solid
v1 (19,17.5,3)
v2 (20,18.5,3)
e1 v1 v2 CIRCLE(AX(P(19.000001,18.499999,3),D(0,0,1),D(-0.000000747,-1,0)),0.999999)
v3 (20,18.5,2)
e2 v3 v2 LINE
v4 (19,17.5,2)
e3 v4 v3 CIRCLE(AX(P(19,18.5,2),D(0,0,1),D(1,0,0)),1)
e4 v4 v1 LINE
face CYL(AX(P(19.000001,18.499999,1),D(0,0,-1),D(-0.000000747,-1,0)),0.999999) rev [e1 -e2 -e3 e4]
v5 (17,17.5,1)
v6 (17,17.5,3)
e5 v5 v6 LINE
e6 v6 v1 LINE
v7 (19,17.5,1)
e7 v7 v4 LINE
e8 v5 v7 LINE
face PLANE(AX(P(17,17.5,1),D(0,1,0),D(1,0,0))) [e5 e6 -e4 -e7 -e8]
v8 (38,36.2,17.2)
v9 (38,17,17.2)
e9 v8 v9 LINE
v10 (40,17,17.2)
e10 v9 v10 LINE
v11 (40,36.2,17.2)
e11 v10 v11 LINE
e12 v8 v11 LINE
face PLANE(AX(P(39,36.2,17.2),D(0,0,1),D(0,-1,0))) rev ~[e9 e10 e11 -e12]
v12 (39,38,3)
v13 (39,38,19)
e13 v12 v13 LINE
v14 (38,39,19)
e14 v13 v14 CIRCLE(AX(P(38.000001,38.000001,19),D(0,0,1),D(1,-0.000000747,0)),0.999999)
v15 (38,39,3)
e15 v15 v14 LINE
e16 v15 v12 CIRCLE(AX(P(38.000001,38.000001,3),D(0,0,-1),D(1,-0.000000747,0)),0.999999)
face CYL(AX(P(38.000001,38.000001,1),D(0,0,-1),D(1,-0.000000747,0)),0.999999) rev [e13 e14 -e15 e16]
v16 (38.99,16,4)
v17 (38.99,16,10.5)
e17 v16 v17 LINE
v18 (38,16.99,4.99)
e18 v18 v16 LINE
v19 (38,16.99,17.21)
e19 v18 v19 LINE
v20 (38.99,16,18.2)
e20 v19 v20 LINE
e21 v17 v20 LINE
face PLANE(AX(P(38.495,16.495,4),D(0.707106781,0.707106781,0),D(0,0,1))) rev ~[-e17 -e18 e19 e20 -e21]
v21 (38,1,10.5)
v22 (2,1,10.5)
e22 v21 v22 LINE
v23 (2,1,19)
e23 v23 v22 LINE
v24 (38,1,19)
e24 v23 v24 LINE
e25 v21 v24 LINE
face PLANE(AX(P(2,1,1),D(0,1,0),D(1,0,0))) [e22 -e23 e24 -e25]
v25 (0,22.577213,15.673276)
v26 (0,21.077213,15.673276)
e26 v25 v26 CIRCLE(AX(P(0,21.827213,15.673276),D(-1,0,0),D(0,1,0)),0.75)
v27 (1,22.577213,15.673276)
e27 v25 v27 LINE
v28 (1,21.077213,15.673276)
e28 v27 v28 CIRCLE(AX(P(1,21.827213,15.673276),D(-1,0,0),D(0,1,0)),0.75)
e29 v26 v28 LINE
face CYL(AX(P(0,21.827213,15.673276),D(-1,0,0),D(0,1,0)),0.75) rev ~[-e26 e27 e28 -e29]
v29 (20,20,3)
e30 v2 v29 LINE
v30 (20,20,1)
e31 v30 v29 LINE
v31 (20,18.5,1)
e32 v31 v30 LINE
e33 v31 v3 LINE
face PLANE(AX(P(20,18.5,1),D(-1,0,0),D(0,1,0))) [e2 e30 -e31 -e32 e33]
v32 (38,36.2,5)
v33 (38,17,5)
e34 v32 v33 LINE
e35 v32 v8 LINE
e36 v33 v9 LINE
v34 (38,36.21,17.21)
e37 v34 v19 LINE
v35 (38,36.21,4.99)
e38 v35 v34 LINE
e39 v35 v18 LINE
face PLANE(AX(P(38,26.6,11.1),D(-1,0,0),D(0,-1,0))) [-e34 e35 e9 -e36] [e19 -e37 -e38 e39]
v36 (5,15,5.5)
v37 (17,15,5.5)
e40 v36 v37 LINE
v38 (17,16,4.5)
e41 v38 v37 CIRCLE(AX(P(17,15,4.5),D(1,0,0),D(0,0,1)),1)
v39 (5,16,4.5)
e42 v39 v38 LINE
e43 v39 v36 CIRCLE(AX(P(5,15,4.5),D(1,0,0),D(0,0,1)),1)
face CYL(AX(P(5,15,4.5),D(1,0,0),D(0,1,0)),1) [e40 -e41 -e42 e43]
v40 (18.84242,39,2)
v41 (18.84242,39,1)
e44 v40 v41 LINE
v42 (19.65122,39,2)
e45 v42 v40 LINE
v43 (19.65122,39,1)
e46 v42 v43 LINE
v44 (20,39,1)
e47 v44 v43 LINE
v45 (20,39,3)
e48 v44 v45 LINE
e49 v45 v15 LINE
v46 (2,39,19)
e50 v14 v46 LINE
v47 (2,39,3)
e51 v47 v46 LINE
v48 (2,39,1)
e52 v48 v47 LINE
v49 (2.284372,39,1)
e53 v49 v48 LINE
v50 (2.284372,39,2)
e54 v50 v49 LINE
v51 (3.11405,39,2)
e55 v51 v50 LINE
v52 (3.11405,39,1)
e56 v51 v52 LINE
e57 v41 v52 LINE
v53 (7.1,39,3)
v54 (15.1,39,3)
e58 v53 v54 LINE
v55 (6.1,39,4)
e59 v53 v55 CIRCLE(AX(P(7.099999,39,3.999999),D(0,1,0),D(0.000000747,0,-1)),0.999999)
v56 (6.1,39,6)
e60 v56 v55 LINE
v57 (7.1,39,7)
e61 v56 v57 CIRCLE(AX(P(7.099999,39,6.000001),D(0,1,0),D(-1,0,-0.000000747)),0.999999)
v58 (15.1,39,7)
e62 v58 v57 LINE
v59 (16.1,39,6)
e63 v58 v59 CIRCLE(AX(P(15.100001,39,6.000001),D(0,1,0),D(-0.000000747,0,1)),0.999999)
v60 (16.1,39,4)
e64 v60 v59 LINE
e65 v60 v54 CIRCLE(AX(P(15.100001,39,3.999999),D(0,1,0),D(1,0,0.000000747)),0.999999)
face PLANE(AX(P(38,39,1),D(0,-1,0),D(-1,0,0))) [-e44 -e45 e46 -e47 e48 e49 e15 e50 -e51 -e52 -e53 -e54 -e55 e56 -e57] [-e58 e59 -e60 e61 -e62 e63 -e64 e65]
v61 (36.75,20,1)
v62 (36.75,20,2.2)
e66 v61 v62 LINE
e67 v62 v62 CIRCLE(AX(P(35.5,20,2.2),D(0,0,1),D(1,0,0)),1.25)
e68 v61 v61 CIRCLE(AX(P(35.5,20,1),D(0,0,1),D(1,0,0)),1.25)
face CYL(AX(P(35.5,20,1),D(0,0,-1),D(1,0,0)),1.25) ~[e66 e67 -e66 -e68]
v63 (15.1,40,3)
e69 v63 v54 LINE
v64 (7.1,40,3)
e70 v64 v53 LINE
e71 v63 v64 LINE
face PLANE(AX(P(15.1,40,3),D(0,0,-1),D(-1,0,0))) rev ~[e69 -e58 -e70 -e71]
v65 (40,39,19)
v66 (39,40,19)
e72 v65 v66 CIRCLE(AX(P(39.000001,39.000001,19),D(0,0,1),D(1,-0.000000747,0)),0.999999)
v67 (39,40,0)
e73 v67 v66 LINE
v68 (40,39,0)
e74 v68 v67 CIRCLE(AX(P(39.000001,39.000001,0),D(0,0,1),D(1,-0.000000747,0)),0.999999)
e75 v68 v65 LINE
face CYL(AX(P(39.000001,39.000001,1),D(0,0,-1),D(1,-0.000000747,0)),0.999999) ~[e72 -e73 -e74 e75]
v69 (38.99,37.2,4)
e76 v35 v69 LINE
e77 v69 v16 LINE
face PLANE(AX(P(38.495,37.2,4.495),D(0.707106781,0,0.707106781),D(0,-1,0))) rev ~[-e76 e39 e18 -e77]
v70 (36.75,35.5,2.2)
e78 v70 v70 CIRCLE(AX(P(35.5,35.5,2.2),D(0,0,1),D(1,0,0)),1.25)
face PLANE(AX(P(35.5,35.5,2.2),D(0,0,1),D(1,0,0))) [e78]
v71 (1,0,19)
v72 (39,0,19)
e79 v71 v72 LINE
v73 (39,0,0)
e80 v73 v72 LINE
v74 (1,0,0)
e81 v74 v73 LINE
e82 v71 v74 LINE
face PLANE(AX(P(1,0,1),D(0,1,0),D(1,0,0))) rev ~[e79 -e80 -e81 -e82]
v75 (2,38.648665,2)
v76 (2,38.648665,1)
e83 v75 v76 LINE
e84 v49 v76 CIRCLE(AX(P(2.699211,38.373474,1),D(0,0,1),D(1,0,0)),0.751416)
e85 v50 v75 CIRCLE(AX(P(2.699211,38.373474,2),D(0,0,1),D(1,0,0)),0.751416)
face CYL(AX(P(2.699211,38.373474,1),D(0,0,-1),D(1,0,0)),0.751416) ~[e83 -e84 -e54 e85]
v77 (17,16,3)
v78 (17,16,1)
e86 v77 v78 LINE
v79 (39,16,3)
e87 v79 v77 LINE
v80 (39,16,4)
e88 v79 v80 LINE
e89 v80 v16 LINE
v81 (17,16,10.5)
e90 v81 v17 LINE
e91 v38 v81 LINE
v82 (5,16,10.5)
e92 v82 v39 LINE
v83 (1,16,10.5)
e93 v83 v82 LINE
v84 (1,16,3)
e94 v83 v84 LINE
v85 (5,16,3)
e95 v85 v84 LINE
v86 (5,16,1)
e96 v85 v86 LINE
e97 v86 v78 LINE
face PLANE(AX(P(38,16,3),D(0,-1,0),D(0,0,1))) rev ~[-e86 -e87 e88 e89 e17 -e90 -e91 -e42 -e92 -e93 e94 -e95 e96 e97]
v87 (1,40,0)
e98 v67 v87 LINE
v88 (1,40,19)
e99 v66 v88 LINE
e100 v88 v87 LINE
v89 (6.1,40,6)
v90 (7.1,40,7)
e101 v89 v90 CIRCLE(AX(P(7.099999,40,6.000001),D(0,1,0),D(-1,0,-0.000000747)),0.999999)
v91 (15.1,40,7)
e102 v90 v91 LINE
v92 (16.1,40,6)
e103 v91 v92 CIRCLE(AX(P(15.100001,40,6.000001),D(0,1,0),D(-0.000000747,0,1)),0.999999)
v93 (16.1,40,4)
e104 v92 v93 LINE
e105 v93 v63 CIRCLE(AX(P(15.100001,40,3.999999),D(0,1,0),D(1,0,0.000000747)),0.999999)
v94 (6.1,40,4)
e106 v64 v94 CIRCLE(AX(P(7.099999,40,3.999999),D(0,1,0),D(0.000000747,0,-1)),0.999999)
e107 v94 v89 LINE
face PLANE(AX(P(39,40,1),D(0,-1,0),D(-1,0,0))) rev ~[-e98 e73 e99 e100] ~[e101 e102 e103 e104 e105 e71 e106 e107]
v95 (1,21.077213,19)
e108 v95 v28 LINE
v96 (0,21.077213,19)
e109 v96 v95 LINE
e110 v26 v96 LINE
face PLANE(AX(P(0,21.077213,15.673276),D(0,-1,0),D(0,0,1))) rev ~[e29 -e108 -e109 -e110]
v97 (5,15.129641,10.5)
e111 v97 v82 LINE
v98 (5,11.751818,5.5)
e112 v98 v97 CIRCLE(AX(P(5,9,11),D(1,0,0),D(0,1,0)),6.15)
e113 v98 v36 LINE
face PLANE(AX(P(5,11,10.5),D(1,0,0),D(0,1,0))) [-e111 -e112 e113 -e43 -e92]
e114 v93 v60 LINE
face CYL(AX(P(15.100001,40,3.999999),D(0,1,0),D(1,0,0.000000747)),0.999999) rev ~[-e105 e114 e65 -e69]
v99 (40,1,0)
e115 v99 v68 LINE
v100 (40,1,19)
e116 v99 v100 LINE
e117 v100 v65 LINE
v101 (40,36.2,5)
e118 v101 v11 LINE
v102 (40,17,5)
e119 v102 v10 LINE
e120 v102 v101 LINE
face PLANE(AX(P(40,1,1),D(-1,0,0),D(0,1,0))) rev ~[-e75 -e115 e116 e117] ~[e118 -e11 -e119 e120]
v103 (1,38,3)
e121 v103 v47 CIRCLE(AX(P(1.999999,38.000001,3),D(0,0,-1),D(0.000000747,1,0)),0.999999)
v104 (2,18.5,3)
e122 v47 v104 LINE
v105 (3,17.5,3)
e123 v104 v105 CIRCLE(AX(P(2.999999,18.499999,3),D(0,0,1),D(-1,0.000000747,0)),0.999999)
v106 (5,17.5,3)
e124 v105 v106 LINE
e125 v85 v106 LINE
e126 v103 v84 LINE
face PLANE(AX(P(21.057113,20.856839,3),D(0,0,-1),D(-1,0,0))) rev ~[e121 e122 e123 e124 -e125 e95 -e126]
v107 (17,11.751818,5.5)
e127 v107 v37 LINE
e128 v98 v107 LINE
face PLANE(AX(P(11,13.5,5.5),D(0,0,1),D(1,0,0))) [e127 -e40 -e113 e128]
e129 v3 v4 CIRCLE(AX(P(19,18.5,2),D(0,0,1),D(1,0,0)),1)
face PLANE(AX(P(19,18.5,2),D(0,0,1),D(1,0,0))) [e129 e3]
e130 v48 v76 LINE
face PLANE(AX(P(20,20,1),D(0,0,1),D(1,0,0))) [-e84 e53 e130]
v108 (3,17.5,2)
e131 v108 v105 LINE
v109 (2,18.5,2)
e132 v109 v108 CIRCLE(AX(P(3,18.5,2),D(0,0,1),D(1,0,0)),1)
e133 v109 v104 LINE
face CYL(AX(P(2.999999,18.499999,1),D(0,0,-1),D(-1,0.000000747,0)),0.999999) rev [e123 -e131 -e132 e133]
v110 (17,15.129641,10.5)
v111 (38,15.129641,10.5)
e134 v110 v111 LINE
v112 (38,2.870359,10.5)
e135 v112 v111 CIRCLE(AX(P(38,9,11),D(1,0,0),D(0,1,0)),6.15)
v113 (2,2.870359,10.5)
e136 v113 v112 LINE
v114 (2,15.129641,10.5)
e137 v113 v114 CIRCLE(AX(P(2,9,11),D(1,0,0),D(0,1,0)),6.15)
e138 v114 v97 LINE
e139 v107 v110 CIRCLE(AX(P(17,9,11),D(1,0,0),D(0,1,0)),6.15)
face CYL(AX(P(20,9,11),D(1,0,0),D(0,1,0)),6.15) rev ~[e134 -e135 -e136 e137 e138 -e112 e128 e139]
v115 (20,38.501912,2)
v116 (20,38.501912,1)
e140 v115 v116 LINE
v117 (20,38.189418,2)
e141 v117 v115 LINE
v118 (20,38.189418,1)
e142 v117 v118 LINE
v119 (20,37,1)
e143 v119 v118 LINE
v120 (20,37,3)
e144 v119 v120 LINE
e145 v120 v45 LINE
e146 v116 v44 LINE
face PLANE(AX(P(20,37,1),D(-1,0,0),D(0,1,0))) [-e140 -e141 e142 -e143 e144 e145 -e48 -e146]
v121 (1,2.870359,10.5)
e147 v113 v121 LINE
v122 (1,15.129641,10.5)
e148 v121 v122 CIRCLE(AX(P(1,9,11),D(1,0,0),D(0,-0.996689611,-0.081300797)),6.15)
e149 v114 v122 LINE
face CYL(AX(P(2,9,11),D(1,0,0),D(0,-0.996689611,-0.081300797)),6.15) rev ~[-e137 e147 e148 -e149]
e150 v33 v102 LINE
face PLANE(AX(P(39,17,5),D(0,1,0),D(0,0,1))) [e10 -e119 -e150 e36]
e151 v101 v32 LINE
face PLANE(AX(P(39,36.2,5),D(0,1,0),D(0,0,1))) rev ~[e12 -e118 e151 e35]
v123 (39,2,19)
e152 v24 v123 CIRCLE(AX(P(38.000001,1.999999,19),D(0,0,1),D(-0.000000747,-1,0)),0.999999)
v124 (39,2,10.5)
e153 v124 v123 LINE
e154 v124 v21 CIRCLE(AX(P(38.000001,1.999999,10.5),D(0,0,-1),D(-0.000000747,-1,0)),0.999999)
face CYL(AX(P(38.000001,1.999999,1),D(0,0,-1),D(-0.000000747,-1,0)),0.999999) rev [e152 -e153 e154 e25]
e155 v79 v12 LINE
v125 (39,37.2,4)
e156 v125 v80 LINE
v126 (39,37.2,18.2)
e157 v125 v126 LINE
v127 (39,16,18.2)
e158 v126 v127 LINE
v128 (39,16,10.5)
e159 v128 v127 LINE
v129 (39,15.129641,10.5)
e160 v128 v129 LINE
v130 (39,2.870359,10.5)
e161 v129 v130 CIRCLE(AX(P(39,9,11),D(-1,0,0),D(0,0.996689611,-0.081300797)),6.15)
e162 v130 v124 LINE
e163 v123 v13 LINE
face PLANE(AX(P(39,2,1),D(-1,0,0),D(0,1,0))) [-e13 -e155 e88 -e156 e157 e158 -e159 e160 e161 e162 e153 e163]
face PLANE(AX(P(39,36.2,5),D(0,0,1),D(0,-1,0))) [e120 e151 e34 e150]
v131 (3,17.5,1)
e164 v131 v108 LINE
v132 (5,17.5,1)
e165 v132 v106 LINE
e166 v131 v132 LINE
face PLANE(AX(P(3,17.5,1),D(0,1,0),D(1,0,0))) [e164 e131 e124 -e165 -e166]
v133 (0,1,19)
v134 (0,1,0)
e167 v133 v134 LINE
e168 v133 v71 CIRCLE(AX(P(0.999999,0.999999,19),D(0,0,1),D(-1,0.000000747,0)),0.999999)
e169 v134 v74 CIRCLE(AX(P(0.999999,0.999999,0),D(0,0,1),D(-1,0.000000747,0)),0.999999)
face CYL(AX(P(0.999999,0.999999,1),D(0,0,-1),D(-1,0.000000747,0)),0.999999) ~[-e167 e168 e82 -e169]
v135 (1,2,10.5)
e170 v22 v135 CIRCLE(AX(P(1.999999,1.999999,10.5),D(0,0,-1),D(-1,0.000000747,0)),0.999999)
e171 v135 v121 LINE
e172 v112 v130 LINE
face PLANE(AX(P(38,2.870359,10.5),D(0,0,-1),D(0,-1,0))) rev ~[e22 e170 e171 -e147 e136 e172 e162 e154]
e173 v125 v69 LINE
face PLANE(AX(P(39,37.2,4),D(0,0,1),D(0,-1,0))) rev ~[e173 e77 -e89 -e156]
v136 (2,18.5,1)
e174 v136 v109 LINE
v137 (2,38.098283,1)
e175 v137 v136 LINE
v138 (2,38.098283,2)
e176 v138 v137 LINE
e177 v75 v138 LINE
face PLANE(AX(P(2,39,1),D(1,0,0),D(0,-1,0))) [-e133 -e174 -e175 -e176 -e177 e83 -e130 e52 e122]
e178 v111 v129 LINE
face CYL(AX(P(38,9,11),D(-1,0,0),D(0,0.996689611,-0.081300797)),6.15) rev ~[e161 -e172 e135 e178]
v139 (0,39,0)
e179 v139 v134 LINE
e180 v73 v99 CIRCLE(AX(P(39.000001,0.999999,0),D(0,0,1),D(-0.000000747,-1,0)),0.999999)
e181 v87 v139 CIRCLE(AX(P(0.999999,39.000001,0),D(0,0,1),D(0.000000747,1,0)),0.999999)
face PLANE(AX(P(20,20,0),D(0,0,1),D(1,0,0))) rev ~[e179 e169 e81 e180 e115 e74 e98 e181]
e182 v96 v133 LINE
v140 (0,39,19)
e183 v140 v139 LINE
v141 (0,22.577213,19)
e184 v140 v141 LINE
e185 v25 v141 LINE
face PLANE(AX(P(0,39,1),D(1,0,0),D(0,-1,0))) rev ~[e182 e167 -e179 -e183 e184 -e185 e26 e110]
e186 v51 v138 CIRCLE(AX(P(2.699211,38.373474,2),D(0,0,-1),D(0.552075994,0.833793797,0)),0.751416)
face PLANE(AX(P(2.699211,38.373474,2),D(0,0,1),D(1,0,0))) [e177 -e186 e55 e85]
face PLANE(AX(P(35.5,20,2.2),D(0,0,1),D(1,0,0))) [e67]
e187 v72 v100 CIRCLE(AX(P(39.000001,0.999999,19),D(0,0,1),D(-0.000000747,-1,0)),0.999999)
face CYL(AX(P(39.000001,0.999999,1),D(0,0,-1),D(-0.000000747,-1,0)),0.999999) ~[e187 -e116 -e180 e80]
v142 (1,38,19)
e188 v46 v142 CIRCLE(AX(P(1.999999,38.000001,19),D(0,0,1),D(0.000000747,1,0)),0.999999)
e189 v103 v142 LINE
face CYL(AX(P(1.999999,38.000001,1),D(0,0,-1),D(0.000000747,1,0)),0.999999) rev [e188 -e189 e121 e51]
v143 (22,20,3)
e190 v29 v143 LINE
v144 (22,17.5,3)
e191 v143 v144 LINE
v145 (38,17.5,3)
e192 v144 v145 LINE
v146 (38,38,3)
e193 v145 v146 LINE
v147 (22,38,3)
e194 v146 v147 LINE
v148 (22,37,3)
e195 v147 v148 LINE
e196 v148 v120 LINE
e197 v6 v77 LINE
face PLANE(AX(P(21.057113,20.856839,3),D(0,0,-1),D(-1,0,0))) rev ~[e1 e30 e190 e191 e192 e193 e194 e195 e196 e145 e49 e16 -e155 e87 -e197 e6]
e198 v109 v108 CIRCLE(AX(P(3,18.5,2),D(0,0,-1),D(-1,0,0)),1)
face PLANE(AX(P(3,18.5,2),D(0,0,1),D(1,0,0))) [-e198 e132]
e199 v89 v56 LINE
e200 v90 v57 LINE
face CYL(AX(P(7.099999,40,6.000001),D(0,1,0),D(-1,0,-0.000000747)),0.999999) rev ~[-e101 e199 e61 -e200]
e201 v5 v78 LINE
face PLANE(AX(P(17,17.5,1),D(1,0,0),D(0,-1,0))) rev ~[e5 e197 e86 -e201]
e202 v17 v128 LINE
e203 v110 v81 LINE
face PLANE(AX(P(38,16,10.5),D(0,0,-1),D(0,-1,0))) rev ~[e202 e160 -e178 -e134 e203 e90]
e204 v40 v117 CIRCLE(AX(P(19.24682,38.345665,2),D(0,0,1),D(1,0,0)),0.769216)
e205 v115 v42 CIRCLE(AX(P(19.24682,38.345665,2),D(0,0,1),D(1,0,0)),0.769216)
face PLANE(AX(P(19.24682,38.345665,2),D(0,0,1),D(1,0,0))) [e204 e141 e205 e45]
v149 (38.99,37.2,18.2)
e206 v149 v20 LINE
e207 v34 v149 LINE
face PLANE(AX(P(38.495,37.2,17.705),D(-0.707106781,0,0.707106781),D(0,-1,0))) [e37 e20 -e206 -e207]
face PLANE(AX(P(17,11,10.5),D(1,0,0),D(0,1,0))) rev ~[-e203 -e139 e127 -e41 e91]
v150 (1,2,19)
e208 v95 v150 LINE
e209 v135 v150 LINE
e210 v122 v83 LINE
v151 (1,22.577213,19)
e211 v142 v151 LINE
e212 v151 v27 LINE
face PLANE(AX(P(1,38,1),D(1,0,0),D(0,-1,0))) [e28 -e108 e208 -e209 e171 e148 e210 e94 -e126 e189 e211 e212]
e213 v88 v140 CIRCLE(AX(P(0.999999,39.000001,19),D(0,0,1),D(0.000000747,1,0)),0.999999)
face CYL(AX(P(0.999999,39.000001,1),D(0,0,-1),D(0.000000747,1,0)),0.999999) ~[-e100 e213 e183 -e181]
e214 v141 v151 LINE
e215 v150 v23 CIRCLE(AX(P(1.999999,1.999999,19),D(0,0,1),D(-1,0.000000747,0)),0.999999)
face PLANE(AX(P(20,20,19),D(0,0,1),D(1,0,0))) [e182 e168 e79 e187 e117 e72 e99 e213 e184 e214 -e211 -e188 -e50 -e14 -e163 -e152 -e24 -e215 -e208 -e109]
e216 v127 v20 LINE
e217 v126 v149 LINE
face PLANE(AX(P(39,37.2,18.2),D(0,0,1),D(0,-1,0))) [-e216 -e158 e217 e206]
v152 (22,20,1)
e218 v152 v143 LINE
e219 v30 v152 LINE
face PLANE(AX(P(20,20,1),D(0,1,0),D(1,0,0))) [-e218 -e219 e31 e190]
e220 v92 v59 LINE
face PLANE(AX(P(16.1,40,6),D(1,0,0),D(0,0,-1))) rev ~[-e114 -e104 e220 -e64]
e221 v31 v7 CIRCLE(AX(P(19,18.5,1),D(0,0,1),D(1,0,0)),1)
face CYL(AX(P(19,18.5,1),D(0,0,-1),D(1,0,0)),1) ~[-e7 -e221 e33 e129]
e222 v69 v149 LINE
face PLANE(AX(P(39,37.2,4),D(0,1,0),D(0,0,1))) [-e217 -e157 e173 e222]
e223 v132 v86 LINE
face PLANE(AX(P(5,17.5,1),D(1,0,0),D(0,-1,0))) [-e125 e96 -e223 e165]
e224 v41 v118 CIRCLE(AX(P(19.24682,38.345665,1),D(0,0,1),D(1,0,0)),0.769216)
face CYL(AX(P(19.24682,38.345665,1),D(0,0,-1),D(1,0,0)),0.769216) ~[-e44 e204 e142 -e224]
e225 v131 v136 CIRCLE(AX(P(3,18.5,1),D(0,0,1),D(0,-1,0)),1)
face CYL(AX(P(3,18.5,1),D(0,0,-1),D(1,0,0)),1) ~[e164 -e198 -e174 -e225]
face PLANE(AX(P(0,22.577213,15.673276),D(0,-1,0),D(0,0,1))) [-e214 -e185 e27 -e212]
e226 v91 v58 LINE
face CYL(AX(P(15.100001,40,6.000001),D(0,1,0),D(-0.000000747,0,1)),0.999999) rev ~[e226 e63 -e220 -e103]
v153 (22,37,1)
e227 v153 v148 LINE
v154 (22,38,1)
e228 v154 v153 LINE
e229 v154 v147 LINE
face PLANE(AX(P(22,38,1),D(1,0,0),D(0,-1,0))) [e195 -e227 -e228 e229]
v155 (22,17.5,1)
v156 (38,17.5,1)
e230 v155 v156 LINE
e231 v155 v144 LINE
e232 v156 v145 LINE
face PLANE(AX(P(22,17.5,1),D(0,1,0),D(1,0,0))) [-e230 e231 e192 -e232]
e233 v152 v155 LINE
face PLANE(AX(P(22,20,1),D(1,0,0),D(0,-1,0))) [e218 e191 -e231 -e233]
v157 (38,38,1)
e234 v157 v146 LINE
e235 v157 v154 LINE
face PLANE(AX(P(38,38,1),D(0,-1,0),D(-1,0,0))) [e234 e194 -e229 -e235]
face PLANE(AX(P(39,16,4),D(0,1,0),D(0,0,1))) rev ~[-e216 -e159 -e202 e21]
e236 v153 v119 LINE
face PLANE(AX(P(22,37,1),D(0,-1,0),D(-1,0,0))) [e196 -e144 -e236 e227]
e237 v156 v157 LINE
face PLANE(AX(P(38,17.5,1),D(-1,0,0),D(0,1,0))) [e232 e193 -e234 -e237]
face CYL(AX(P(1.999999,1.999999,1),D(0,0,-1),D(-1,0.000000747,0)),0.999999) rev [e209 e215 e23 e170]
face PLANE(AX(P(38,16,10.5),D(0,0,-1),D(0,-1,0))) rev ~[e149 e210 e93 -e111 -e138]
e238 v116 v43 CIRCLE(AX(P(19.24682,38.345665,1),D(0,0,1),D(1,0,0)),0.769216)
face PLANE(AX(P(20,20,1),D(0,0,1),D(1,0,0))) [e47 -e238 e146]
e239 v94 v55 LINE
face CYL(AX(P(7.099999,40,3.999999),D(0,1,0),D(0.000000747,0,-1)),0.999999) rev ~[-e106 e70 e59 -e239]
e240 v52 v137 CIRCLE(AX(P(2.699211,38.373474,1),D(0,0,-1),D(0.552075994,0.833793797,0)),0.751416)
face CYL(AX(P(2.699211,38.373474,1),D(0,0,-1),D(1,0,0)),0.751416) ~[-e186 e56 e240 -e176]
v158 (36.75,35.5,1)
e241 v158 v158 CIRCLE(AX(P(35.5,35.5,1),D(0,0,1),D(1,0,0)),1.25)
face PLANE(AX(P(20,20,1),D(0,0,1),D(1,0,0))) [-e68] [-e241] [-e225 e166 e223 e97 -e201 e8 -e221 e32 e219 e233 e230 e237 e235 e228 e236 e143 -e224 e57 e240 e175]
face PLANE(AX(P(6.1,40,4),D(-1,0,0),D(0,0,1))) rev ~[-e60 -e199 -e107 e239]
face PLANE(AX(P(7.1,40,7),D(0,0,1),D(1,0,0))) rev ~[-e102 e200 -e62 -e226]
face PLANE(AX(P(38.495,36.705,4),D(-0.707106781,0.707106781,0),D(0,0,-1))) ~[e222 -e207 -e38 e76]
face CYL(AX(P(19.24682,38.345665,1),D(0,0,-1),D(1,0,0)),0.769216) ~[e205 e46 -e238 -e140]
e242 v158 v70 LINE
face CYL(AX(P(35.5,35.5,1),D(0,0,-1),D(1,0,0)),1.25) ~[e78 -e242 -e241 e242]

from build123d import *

# Parameters (mm, degrees)
PAD_DEPTH       = 1
PAD001_DEPTH    = 18
SKETCH002_W     = 19.2
SKETCH002_H     = 12.2
POCKET_DEPTH    = 5
SKETCH003_W     = 21.2
SKETCH003_H     = 14.2
SKETCH003_W_2   = 19.2
SKETCH003_H_2   = 12.2
PAD002_DEPTH    = 1
CHAMFER_SIZE    = 0.99
PAD003_DEPTH    = 2
CHAMFER001_SIZE = 1.8
SKETCH005_W     = 36
SKETCH005_H     = 15
PAD004_DEPTH    = 2.5
PAD004_FACE29_W = 15
PAD004_FACE29_H = 36
PAD005_DEPTH    = 10
SKETCH006_R     = 1
SKETCH006_R_2   = 0.751416
SKETCH006_R_3   = 0.769216
PAD006_DEPTH    = 1
SKETCH007_R     = 1.25
PAD007_DEPTH    = 1.2
PAD007_FACE39_W = 15
PAD007_FACE39_H = 36
POCKET001_DEPTH = 5
SKETCH008_R     = 6.15
POCKET002_DEPTH = 19
PAD008_DEPTH    = 1
PAD009_DEPTH    = 1
SKETCH009_W     = 12
SKETCH009_H     = 5
POCKET003_DEPTH = 5
FILLET_R        = 1
POCKET004_DEPTH = 5
POCKET005_DEPTH = 5


with BuildPart() as part:
    # Sketch → Pad (new body)
    with BuildSketch(Plane.XY):
        with BuildLine():
            Line((1, 0), (39, 0))
            ThreePointArc((39, 0), (39.707107, 0.292893), (40, 1))
            Line((40, 1), (40, 39))
            ThreePointArc((40, 39), (39.707107, 39.707107), (39, 40))
            Line((39, 40), (1, 40))
            ThreePointArc((1, 40), (0.292893, 39.707107), (0, 39))
            Line((0, 39), (0, 1))
            ThreePointArc((0, 1), (0.292893, 0.292893), (1, 0))
        make_face()
    extrude(amount=PAD_DEPTH)

    # Sketch001 (on Face10 of Pad) → Pad001 (join)
    with BuildSketch(Plane.XY.offset(1)):
        with BuildLine():
            Line((1, 0), (39, 0))
            ThreePointArc((39, 0), (39.707107, 0.292893), (40, 1))
            Line((40, 1), (40, 39))
            ThreePointArc((40, 39), (39.707107, 39.707107), (39, 40))
            Line((39, 40), (1, 40))
            ThreePointArc((1, 40), (0.292893, 39.707107), (0, 39))
            Line((0, 39), (0, 1))
            ThreePointArc((0, 1), (0.292893, 0.292893), (1, 0))
        make_face()
        with BuildLine():
            Line((2, 1), (38, 1))
            ThreePointArc((38, 1), (38.707107, 1.292893), (39, 2))
            Line((39, 2), (39, 38))
            ThreePointArc((39, 38), (38.707107, 38.707107), (38, 39))
            Line((38, 39), (2, 39))
            ThreePointArc((2, 39), (1.292893, 38.707107), (1, 38))
            Line((1, 38), (1, 2))
            ThreePointArc((1, 2), (1.292893, 1.292893), (2, 1))
        make_face(mode=Mode.SUBTRACT)
    extrude(amount=PAD001_DEPTH)

    # Sketch002 (on Face14 of Pad001) → Pocket (cut)
    with BuildSketch(Plane.YZ.offset(40)):
        with Locations((26.6, 11.1)):
            Rectangle(SKETCH002_W, SKETCH002_H)
    extrude(amount=-POCKET_DEPTH, mode=Mode.SUBTRACT)

    # Sketch003 (on Face17 of Pocket) → Pad002 (join)
    with BuildSketch(Plane(origin=(39, 0, 0), x_dir=(0, -1, 0), z_dir=(-1, 0, 0))):
        with Locations((-26.6, 11.1)):
            Rectangle(SKETCH003_W, SKETCH003_H)
        with Locations((-26.6, 11.1)):
            Rectangle(SKETCH003_W_2, SKETCH003_H_2, mode=Mode.SUBTRACT)
    extrude(amount=PAD002_DEPTH)

    # Chamfer
    chamfer_edges = [part.edges().sort_by_distance(p)[0] for p in [
        (38, 26.6, 18.2),
        (38, 16, 11.1),
        (38, 26.6, 4),
        (38, 37.2, 11.1),
    ]]
    chamfer(chamfer_edges, length=CHAMFER_SIZE)

    # Sketch004 (on Face11 of Chamfer) → Pad003 (join)
    with BuildSketch(Plane.XY.offset(1)):
        with BuildLine():
            Line((2, 39), (2, 18.5))
            ThreePointArc((2, 18.5), (2.292893, 17.792893), (3, 17.5))
            Line((3, 17.5), (5, 17.5))
            Line((5, 17.5), (5, 14))
            Line((5, 14), (17, 14))
            Line((17, 17.5), (17, 14))
            Line((17, 17.5), (19, 17.5))
            ThreePointArc((19, 17.5), (19.707107, 17.792893), (20, 18.5))
            Line((20, 18.5), (20, 20))
            Line((20, 20), (22, 20))
            Line((22, 20), (22, 17.5))
            Line((22, 17.5), (38, 17.5))
            Line((38, 17.5), (38, 38))
            Line((38, 38), (22, 38))
            Line((22, 38), (22, 37))
            Line((22, 37), (20, 37))
            Line((20, 37), (20, 39))
            Line((20, 39), (39, 39))
            Line((39, 1), (39, 39))
            Line((1, 1), (39, 1))
            Line((1, 39), (1, 1))
            Line((1, 39), (2, 39))
        make_face()
    extrude(amount=PAD003_DEPTH)

    # Chamfer001
    chamfer001_edges = [part.edges().sort_by_distance(p)[0] for p in [
        (11, 14, 3),
    ]]
    chamfer(chamfer001_edges, length=CHAMFER001_SIZE)

    # Sketch005 (on Face1 of Chamfer001) → Pad004 (join, symmetric)
    with BuildSketch(Plane.XY.offset(3)):
        with Locations((20, 8.5)):
            Rectangle(SKETCH005_W, SKETCH005_H)
    extrude(amount=PAD004_DEPTH, both=True)

    # Pad004 Face29 → Pad005 (add)
    with BuildSketch(Plane(origin=(20, 8.5, 5.5), x_dir=(0, 1, 0), z_dir=(0, 0, 1))):
        Rectangle(PAD004_FACE29_W, PAD004_FACE29_H)
    extrude(amount=PAD005_DEPTH)

    # Sketch006 (on Face18 of Pad005) → Pad006 (join)
    with BuildSketch(Plane.XY.offset(1)):
        with Locations((3, 18.5)):
            Circle(SKETCH006_R)
        with Locations((19, 18.5)):
            Circle(SKETCH006_R)
        with Locations((2.699211, 38.373474)):
            Circle(SKETCH006_R_2)
        with Locations((19.24682, 38.345665)):
            Circle(SKETCH006_R_3)
    extrude(amount=PAD006_DEPTH)

    # Sketch007 (on Face20 of Pad006) → Pad007 (join)
    with BuildSketch(Plane.XY.offset(1)):
        with Locations((35.5, 35.5)):
            Circle(SKETCH007_R)
        with Locations((35.5, 20)):
            Circle(SKETCH007_R)
    extrude(amount=PAD007_DEPTH)

    # Pad007 Face39 → Pocket001 (cut)
    with BuildSketch(Plane(origin=(20, 8.5, 15.5), x_dir=(0, 1, 0), z_dir=(0, 0, 1))):
        Rectangle(PAD007_FACE39_W, PAD007_FACE39_H)
    extrude(amount=-POCKET001_DEPTH, mode=Mode.SUBTRACT)

    # Sketch008 (on DatumPlane) → Pocket002 (cut, symmetric)
    with BuildSketch(Plane.YZ.offset(20)):
        with Locations((9, 11)):
            Circle(SKETCH008_R)
    extrude(amount=POCKET002_DEPTH, both=True, mode=Mode.SUBTRACT)

    # Pocket002 Face46 → Pad008 (add)
    with BuildSketch(Plane(origin=(2, 8.050341, 5.520041), x_dir=(0, 1, 0), z_dir=(-1, 0, 0))):
        with BuildLine():
            Line((7.949659, 2.520041), (-7.050341, 2.520041))
            Line((-7.050341, 2.520041), (-7.050341, -4.979959))
            Line((-7.050341, -4.979959), (-5.179982, -4.979959))
            ThreePointArc((-5.179982, -4.979959), (0.949659, 0.670041), (7.0793, -4.979959))
            Line((7.0793, -4.979959), (7.949659, -4.979959))
            Line((7.949659, -4.979959), (7.949659, 2.520041))
        make_face()
    extrude(amount=PAD008_DEPTH)

    # Pad008 Face32 → Pad009 (add)
    with BuildSketch(Plane(origin=(38, 8.050341, 5.520041), x_dir=(0, -1, 0), z_dir=(1, 0, 0))):
        with BuildLine():
            Line((7.050341, 2.520041), (-7.949659, 2.520041))
            Line((-7.949659, 2.520041), (-7.949659, -4.979959))
            Line((-7.949659, -4.979959), (-7.0793, -4.979959))
            ThreePointArc((-7.0793, -4.979959), (-0.949659, 0.670041), (5.179982, -4.979959))
            Line((5.179982, -4.979959), (7.050341, -4.979959))
            Line((7.050341, -4.979959), (7.050341, 2.520041))
        make_face()
    extrude(amount=PAD009_DEPTH)

    # Sketch009 (on Face69 of Pad009) → Pocket003 (cut)
    with BuildSketch(Plane.XY.offset(10.5)):
        with Locations((11, 13.5)):
            Rectangle(SKETCH009_W, SKETCH009_H)
    extrude(amount=-POCKET003_DEPTH, mode=Mode.SUBTRACT)

    # Fillet
    fillet_edges = [part.edges().sort_by_distance(p)[0] for p in [
        (11, 16, 5.5),
    ]]
    fillet(fillet_edges, radius=FILLET_R)

    # Sketch010 (on Face62 of Fillet) → Pocket004 (cut)
    with BuildSketch(Plane(origin=(0, 0, 0), x_dir=(0, -1, 0), z_dir=(-1, 0, 0))):
        with BuildLine():
            ThreePointArc((-22.577213, 15.673276), (-21.827213, 14.923276), (-21.077213, 15.673276))
            Line((-21.077213, 15.673276), (-21.077213, 20.673276))
            ThreePointArc((-21.077213, 20.673276), (-21.827213, 21.423276), (-22.577213, 20.673276))
            Line((-22.577213, 15.673276), (-22.577213, 20.673276))
        make_face()
    extrude(amount=-POCKET004_DEPTH, mode=Mode.SUBTRACT)

    # Sketch013 (on Face63 of Pocket004) → Pocket005 (cut)
    with BuildSketch(Plane(origin=(0, 40, 0), x_dir=(-1, 0, 0), z_dir=(0, 1, 0))):
        with BuildLine():
            Line((-6.1, 4), (-6.1, 6))
            ThreePointArc((-6.1, 6), (-6.392893, 6.707107), (-7.1, 7))
            Line((-7.1, 7), (-15.1, 7))
            ThreePointArc((-15.1, 7), (-15.807107, 6.707107), (-16.1, 6))
            Line((-16.1, 6), (-16.1, 4))
            ThreePointArc((-16.1, 4), (-15.807107, 3.292893), (-15.1, 3))
            Line((-15.1, 3), (-7.1, 3))
            ThreePointArc((-7.1, 3), (-6.392893, 3.292893), (-6.1, 4))
        make_face()
    extrude(amount=-POCKET005_DEPTH, mode=Mode.SUBTRACT)


solid = part.part
